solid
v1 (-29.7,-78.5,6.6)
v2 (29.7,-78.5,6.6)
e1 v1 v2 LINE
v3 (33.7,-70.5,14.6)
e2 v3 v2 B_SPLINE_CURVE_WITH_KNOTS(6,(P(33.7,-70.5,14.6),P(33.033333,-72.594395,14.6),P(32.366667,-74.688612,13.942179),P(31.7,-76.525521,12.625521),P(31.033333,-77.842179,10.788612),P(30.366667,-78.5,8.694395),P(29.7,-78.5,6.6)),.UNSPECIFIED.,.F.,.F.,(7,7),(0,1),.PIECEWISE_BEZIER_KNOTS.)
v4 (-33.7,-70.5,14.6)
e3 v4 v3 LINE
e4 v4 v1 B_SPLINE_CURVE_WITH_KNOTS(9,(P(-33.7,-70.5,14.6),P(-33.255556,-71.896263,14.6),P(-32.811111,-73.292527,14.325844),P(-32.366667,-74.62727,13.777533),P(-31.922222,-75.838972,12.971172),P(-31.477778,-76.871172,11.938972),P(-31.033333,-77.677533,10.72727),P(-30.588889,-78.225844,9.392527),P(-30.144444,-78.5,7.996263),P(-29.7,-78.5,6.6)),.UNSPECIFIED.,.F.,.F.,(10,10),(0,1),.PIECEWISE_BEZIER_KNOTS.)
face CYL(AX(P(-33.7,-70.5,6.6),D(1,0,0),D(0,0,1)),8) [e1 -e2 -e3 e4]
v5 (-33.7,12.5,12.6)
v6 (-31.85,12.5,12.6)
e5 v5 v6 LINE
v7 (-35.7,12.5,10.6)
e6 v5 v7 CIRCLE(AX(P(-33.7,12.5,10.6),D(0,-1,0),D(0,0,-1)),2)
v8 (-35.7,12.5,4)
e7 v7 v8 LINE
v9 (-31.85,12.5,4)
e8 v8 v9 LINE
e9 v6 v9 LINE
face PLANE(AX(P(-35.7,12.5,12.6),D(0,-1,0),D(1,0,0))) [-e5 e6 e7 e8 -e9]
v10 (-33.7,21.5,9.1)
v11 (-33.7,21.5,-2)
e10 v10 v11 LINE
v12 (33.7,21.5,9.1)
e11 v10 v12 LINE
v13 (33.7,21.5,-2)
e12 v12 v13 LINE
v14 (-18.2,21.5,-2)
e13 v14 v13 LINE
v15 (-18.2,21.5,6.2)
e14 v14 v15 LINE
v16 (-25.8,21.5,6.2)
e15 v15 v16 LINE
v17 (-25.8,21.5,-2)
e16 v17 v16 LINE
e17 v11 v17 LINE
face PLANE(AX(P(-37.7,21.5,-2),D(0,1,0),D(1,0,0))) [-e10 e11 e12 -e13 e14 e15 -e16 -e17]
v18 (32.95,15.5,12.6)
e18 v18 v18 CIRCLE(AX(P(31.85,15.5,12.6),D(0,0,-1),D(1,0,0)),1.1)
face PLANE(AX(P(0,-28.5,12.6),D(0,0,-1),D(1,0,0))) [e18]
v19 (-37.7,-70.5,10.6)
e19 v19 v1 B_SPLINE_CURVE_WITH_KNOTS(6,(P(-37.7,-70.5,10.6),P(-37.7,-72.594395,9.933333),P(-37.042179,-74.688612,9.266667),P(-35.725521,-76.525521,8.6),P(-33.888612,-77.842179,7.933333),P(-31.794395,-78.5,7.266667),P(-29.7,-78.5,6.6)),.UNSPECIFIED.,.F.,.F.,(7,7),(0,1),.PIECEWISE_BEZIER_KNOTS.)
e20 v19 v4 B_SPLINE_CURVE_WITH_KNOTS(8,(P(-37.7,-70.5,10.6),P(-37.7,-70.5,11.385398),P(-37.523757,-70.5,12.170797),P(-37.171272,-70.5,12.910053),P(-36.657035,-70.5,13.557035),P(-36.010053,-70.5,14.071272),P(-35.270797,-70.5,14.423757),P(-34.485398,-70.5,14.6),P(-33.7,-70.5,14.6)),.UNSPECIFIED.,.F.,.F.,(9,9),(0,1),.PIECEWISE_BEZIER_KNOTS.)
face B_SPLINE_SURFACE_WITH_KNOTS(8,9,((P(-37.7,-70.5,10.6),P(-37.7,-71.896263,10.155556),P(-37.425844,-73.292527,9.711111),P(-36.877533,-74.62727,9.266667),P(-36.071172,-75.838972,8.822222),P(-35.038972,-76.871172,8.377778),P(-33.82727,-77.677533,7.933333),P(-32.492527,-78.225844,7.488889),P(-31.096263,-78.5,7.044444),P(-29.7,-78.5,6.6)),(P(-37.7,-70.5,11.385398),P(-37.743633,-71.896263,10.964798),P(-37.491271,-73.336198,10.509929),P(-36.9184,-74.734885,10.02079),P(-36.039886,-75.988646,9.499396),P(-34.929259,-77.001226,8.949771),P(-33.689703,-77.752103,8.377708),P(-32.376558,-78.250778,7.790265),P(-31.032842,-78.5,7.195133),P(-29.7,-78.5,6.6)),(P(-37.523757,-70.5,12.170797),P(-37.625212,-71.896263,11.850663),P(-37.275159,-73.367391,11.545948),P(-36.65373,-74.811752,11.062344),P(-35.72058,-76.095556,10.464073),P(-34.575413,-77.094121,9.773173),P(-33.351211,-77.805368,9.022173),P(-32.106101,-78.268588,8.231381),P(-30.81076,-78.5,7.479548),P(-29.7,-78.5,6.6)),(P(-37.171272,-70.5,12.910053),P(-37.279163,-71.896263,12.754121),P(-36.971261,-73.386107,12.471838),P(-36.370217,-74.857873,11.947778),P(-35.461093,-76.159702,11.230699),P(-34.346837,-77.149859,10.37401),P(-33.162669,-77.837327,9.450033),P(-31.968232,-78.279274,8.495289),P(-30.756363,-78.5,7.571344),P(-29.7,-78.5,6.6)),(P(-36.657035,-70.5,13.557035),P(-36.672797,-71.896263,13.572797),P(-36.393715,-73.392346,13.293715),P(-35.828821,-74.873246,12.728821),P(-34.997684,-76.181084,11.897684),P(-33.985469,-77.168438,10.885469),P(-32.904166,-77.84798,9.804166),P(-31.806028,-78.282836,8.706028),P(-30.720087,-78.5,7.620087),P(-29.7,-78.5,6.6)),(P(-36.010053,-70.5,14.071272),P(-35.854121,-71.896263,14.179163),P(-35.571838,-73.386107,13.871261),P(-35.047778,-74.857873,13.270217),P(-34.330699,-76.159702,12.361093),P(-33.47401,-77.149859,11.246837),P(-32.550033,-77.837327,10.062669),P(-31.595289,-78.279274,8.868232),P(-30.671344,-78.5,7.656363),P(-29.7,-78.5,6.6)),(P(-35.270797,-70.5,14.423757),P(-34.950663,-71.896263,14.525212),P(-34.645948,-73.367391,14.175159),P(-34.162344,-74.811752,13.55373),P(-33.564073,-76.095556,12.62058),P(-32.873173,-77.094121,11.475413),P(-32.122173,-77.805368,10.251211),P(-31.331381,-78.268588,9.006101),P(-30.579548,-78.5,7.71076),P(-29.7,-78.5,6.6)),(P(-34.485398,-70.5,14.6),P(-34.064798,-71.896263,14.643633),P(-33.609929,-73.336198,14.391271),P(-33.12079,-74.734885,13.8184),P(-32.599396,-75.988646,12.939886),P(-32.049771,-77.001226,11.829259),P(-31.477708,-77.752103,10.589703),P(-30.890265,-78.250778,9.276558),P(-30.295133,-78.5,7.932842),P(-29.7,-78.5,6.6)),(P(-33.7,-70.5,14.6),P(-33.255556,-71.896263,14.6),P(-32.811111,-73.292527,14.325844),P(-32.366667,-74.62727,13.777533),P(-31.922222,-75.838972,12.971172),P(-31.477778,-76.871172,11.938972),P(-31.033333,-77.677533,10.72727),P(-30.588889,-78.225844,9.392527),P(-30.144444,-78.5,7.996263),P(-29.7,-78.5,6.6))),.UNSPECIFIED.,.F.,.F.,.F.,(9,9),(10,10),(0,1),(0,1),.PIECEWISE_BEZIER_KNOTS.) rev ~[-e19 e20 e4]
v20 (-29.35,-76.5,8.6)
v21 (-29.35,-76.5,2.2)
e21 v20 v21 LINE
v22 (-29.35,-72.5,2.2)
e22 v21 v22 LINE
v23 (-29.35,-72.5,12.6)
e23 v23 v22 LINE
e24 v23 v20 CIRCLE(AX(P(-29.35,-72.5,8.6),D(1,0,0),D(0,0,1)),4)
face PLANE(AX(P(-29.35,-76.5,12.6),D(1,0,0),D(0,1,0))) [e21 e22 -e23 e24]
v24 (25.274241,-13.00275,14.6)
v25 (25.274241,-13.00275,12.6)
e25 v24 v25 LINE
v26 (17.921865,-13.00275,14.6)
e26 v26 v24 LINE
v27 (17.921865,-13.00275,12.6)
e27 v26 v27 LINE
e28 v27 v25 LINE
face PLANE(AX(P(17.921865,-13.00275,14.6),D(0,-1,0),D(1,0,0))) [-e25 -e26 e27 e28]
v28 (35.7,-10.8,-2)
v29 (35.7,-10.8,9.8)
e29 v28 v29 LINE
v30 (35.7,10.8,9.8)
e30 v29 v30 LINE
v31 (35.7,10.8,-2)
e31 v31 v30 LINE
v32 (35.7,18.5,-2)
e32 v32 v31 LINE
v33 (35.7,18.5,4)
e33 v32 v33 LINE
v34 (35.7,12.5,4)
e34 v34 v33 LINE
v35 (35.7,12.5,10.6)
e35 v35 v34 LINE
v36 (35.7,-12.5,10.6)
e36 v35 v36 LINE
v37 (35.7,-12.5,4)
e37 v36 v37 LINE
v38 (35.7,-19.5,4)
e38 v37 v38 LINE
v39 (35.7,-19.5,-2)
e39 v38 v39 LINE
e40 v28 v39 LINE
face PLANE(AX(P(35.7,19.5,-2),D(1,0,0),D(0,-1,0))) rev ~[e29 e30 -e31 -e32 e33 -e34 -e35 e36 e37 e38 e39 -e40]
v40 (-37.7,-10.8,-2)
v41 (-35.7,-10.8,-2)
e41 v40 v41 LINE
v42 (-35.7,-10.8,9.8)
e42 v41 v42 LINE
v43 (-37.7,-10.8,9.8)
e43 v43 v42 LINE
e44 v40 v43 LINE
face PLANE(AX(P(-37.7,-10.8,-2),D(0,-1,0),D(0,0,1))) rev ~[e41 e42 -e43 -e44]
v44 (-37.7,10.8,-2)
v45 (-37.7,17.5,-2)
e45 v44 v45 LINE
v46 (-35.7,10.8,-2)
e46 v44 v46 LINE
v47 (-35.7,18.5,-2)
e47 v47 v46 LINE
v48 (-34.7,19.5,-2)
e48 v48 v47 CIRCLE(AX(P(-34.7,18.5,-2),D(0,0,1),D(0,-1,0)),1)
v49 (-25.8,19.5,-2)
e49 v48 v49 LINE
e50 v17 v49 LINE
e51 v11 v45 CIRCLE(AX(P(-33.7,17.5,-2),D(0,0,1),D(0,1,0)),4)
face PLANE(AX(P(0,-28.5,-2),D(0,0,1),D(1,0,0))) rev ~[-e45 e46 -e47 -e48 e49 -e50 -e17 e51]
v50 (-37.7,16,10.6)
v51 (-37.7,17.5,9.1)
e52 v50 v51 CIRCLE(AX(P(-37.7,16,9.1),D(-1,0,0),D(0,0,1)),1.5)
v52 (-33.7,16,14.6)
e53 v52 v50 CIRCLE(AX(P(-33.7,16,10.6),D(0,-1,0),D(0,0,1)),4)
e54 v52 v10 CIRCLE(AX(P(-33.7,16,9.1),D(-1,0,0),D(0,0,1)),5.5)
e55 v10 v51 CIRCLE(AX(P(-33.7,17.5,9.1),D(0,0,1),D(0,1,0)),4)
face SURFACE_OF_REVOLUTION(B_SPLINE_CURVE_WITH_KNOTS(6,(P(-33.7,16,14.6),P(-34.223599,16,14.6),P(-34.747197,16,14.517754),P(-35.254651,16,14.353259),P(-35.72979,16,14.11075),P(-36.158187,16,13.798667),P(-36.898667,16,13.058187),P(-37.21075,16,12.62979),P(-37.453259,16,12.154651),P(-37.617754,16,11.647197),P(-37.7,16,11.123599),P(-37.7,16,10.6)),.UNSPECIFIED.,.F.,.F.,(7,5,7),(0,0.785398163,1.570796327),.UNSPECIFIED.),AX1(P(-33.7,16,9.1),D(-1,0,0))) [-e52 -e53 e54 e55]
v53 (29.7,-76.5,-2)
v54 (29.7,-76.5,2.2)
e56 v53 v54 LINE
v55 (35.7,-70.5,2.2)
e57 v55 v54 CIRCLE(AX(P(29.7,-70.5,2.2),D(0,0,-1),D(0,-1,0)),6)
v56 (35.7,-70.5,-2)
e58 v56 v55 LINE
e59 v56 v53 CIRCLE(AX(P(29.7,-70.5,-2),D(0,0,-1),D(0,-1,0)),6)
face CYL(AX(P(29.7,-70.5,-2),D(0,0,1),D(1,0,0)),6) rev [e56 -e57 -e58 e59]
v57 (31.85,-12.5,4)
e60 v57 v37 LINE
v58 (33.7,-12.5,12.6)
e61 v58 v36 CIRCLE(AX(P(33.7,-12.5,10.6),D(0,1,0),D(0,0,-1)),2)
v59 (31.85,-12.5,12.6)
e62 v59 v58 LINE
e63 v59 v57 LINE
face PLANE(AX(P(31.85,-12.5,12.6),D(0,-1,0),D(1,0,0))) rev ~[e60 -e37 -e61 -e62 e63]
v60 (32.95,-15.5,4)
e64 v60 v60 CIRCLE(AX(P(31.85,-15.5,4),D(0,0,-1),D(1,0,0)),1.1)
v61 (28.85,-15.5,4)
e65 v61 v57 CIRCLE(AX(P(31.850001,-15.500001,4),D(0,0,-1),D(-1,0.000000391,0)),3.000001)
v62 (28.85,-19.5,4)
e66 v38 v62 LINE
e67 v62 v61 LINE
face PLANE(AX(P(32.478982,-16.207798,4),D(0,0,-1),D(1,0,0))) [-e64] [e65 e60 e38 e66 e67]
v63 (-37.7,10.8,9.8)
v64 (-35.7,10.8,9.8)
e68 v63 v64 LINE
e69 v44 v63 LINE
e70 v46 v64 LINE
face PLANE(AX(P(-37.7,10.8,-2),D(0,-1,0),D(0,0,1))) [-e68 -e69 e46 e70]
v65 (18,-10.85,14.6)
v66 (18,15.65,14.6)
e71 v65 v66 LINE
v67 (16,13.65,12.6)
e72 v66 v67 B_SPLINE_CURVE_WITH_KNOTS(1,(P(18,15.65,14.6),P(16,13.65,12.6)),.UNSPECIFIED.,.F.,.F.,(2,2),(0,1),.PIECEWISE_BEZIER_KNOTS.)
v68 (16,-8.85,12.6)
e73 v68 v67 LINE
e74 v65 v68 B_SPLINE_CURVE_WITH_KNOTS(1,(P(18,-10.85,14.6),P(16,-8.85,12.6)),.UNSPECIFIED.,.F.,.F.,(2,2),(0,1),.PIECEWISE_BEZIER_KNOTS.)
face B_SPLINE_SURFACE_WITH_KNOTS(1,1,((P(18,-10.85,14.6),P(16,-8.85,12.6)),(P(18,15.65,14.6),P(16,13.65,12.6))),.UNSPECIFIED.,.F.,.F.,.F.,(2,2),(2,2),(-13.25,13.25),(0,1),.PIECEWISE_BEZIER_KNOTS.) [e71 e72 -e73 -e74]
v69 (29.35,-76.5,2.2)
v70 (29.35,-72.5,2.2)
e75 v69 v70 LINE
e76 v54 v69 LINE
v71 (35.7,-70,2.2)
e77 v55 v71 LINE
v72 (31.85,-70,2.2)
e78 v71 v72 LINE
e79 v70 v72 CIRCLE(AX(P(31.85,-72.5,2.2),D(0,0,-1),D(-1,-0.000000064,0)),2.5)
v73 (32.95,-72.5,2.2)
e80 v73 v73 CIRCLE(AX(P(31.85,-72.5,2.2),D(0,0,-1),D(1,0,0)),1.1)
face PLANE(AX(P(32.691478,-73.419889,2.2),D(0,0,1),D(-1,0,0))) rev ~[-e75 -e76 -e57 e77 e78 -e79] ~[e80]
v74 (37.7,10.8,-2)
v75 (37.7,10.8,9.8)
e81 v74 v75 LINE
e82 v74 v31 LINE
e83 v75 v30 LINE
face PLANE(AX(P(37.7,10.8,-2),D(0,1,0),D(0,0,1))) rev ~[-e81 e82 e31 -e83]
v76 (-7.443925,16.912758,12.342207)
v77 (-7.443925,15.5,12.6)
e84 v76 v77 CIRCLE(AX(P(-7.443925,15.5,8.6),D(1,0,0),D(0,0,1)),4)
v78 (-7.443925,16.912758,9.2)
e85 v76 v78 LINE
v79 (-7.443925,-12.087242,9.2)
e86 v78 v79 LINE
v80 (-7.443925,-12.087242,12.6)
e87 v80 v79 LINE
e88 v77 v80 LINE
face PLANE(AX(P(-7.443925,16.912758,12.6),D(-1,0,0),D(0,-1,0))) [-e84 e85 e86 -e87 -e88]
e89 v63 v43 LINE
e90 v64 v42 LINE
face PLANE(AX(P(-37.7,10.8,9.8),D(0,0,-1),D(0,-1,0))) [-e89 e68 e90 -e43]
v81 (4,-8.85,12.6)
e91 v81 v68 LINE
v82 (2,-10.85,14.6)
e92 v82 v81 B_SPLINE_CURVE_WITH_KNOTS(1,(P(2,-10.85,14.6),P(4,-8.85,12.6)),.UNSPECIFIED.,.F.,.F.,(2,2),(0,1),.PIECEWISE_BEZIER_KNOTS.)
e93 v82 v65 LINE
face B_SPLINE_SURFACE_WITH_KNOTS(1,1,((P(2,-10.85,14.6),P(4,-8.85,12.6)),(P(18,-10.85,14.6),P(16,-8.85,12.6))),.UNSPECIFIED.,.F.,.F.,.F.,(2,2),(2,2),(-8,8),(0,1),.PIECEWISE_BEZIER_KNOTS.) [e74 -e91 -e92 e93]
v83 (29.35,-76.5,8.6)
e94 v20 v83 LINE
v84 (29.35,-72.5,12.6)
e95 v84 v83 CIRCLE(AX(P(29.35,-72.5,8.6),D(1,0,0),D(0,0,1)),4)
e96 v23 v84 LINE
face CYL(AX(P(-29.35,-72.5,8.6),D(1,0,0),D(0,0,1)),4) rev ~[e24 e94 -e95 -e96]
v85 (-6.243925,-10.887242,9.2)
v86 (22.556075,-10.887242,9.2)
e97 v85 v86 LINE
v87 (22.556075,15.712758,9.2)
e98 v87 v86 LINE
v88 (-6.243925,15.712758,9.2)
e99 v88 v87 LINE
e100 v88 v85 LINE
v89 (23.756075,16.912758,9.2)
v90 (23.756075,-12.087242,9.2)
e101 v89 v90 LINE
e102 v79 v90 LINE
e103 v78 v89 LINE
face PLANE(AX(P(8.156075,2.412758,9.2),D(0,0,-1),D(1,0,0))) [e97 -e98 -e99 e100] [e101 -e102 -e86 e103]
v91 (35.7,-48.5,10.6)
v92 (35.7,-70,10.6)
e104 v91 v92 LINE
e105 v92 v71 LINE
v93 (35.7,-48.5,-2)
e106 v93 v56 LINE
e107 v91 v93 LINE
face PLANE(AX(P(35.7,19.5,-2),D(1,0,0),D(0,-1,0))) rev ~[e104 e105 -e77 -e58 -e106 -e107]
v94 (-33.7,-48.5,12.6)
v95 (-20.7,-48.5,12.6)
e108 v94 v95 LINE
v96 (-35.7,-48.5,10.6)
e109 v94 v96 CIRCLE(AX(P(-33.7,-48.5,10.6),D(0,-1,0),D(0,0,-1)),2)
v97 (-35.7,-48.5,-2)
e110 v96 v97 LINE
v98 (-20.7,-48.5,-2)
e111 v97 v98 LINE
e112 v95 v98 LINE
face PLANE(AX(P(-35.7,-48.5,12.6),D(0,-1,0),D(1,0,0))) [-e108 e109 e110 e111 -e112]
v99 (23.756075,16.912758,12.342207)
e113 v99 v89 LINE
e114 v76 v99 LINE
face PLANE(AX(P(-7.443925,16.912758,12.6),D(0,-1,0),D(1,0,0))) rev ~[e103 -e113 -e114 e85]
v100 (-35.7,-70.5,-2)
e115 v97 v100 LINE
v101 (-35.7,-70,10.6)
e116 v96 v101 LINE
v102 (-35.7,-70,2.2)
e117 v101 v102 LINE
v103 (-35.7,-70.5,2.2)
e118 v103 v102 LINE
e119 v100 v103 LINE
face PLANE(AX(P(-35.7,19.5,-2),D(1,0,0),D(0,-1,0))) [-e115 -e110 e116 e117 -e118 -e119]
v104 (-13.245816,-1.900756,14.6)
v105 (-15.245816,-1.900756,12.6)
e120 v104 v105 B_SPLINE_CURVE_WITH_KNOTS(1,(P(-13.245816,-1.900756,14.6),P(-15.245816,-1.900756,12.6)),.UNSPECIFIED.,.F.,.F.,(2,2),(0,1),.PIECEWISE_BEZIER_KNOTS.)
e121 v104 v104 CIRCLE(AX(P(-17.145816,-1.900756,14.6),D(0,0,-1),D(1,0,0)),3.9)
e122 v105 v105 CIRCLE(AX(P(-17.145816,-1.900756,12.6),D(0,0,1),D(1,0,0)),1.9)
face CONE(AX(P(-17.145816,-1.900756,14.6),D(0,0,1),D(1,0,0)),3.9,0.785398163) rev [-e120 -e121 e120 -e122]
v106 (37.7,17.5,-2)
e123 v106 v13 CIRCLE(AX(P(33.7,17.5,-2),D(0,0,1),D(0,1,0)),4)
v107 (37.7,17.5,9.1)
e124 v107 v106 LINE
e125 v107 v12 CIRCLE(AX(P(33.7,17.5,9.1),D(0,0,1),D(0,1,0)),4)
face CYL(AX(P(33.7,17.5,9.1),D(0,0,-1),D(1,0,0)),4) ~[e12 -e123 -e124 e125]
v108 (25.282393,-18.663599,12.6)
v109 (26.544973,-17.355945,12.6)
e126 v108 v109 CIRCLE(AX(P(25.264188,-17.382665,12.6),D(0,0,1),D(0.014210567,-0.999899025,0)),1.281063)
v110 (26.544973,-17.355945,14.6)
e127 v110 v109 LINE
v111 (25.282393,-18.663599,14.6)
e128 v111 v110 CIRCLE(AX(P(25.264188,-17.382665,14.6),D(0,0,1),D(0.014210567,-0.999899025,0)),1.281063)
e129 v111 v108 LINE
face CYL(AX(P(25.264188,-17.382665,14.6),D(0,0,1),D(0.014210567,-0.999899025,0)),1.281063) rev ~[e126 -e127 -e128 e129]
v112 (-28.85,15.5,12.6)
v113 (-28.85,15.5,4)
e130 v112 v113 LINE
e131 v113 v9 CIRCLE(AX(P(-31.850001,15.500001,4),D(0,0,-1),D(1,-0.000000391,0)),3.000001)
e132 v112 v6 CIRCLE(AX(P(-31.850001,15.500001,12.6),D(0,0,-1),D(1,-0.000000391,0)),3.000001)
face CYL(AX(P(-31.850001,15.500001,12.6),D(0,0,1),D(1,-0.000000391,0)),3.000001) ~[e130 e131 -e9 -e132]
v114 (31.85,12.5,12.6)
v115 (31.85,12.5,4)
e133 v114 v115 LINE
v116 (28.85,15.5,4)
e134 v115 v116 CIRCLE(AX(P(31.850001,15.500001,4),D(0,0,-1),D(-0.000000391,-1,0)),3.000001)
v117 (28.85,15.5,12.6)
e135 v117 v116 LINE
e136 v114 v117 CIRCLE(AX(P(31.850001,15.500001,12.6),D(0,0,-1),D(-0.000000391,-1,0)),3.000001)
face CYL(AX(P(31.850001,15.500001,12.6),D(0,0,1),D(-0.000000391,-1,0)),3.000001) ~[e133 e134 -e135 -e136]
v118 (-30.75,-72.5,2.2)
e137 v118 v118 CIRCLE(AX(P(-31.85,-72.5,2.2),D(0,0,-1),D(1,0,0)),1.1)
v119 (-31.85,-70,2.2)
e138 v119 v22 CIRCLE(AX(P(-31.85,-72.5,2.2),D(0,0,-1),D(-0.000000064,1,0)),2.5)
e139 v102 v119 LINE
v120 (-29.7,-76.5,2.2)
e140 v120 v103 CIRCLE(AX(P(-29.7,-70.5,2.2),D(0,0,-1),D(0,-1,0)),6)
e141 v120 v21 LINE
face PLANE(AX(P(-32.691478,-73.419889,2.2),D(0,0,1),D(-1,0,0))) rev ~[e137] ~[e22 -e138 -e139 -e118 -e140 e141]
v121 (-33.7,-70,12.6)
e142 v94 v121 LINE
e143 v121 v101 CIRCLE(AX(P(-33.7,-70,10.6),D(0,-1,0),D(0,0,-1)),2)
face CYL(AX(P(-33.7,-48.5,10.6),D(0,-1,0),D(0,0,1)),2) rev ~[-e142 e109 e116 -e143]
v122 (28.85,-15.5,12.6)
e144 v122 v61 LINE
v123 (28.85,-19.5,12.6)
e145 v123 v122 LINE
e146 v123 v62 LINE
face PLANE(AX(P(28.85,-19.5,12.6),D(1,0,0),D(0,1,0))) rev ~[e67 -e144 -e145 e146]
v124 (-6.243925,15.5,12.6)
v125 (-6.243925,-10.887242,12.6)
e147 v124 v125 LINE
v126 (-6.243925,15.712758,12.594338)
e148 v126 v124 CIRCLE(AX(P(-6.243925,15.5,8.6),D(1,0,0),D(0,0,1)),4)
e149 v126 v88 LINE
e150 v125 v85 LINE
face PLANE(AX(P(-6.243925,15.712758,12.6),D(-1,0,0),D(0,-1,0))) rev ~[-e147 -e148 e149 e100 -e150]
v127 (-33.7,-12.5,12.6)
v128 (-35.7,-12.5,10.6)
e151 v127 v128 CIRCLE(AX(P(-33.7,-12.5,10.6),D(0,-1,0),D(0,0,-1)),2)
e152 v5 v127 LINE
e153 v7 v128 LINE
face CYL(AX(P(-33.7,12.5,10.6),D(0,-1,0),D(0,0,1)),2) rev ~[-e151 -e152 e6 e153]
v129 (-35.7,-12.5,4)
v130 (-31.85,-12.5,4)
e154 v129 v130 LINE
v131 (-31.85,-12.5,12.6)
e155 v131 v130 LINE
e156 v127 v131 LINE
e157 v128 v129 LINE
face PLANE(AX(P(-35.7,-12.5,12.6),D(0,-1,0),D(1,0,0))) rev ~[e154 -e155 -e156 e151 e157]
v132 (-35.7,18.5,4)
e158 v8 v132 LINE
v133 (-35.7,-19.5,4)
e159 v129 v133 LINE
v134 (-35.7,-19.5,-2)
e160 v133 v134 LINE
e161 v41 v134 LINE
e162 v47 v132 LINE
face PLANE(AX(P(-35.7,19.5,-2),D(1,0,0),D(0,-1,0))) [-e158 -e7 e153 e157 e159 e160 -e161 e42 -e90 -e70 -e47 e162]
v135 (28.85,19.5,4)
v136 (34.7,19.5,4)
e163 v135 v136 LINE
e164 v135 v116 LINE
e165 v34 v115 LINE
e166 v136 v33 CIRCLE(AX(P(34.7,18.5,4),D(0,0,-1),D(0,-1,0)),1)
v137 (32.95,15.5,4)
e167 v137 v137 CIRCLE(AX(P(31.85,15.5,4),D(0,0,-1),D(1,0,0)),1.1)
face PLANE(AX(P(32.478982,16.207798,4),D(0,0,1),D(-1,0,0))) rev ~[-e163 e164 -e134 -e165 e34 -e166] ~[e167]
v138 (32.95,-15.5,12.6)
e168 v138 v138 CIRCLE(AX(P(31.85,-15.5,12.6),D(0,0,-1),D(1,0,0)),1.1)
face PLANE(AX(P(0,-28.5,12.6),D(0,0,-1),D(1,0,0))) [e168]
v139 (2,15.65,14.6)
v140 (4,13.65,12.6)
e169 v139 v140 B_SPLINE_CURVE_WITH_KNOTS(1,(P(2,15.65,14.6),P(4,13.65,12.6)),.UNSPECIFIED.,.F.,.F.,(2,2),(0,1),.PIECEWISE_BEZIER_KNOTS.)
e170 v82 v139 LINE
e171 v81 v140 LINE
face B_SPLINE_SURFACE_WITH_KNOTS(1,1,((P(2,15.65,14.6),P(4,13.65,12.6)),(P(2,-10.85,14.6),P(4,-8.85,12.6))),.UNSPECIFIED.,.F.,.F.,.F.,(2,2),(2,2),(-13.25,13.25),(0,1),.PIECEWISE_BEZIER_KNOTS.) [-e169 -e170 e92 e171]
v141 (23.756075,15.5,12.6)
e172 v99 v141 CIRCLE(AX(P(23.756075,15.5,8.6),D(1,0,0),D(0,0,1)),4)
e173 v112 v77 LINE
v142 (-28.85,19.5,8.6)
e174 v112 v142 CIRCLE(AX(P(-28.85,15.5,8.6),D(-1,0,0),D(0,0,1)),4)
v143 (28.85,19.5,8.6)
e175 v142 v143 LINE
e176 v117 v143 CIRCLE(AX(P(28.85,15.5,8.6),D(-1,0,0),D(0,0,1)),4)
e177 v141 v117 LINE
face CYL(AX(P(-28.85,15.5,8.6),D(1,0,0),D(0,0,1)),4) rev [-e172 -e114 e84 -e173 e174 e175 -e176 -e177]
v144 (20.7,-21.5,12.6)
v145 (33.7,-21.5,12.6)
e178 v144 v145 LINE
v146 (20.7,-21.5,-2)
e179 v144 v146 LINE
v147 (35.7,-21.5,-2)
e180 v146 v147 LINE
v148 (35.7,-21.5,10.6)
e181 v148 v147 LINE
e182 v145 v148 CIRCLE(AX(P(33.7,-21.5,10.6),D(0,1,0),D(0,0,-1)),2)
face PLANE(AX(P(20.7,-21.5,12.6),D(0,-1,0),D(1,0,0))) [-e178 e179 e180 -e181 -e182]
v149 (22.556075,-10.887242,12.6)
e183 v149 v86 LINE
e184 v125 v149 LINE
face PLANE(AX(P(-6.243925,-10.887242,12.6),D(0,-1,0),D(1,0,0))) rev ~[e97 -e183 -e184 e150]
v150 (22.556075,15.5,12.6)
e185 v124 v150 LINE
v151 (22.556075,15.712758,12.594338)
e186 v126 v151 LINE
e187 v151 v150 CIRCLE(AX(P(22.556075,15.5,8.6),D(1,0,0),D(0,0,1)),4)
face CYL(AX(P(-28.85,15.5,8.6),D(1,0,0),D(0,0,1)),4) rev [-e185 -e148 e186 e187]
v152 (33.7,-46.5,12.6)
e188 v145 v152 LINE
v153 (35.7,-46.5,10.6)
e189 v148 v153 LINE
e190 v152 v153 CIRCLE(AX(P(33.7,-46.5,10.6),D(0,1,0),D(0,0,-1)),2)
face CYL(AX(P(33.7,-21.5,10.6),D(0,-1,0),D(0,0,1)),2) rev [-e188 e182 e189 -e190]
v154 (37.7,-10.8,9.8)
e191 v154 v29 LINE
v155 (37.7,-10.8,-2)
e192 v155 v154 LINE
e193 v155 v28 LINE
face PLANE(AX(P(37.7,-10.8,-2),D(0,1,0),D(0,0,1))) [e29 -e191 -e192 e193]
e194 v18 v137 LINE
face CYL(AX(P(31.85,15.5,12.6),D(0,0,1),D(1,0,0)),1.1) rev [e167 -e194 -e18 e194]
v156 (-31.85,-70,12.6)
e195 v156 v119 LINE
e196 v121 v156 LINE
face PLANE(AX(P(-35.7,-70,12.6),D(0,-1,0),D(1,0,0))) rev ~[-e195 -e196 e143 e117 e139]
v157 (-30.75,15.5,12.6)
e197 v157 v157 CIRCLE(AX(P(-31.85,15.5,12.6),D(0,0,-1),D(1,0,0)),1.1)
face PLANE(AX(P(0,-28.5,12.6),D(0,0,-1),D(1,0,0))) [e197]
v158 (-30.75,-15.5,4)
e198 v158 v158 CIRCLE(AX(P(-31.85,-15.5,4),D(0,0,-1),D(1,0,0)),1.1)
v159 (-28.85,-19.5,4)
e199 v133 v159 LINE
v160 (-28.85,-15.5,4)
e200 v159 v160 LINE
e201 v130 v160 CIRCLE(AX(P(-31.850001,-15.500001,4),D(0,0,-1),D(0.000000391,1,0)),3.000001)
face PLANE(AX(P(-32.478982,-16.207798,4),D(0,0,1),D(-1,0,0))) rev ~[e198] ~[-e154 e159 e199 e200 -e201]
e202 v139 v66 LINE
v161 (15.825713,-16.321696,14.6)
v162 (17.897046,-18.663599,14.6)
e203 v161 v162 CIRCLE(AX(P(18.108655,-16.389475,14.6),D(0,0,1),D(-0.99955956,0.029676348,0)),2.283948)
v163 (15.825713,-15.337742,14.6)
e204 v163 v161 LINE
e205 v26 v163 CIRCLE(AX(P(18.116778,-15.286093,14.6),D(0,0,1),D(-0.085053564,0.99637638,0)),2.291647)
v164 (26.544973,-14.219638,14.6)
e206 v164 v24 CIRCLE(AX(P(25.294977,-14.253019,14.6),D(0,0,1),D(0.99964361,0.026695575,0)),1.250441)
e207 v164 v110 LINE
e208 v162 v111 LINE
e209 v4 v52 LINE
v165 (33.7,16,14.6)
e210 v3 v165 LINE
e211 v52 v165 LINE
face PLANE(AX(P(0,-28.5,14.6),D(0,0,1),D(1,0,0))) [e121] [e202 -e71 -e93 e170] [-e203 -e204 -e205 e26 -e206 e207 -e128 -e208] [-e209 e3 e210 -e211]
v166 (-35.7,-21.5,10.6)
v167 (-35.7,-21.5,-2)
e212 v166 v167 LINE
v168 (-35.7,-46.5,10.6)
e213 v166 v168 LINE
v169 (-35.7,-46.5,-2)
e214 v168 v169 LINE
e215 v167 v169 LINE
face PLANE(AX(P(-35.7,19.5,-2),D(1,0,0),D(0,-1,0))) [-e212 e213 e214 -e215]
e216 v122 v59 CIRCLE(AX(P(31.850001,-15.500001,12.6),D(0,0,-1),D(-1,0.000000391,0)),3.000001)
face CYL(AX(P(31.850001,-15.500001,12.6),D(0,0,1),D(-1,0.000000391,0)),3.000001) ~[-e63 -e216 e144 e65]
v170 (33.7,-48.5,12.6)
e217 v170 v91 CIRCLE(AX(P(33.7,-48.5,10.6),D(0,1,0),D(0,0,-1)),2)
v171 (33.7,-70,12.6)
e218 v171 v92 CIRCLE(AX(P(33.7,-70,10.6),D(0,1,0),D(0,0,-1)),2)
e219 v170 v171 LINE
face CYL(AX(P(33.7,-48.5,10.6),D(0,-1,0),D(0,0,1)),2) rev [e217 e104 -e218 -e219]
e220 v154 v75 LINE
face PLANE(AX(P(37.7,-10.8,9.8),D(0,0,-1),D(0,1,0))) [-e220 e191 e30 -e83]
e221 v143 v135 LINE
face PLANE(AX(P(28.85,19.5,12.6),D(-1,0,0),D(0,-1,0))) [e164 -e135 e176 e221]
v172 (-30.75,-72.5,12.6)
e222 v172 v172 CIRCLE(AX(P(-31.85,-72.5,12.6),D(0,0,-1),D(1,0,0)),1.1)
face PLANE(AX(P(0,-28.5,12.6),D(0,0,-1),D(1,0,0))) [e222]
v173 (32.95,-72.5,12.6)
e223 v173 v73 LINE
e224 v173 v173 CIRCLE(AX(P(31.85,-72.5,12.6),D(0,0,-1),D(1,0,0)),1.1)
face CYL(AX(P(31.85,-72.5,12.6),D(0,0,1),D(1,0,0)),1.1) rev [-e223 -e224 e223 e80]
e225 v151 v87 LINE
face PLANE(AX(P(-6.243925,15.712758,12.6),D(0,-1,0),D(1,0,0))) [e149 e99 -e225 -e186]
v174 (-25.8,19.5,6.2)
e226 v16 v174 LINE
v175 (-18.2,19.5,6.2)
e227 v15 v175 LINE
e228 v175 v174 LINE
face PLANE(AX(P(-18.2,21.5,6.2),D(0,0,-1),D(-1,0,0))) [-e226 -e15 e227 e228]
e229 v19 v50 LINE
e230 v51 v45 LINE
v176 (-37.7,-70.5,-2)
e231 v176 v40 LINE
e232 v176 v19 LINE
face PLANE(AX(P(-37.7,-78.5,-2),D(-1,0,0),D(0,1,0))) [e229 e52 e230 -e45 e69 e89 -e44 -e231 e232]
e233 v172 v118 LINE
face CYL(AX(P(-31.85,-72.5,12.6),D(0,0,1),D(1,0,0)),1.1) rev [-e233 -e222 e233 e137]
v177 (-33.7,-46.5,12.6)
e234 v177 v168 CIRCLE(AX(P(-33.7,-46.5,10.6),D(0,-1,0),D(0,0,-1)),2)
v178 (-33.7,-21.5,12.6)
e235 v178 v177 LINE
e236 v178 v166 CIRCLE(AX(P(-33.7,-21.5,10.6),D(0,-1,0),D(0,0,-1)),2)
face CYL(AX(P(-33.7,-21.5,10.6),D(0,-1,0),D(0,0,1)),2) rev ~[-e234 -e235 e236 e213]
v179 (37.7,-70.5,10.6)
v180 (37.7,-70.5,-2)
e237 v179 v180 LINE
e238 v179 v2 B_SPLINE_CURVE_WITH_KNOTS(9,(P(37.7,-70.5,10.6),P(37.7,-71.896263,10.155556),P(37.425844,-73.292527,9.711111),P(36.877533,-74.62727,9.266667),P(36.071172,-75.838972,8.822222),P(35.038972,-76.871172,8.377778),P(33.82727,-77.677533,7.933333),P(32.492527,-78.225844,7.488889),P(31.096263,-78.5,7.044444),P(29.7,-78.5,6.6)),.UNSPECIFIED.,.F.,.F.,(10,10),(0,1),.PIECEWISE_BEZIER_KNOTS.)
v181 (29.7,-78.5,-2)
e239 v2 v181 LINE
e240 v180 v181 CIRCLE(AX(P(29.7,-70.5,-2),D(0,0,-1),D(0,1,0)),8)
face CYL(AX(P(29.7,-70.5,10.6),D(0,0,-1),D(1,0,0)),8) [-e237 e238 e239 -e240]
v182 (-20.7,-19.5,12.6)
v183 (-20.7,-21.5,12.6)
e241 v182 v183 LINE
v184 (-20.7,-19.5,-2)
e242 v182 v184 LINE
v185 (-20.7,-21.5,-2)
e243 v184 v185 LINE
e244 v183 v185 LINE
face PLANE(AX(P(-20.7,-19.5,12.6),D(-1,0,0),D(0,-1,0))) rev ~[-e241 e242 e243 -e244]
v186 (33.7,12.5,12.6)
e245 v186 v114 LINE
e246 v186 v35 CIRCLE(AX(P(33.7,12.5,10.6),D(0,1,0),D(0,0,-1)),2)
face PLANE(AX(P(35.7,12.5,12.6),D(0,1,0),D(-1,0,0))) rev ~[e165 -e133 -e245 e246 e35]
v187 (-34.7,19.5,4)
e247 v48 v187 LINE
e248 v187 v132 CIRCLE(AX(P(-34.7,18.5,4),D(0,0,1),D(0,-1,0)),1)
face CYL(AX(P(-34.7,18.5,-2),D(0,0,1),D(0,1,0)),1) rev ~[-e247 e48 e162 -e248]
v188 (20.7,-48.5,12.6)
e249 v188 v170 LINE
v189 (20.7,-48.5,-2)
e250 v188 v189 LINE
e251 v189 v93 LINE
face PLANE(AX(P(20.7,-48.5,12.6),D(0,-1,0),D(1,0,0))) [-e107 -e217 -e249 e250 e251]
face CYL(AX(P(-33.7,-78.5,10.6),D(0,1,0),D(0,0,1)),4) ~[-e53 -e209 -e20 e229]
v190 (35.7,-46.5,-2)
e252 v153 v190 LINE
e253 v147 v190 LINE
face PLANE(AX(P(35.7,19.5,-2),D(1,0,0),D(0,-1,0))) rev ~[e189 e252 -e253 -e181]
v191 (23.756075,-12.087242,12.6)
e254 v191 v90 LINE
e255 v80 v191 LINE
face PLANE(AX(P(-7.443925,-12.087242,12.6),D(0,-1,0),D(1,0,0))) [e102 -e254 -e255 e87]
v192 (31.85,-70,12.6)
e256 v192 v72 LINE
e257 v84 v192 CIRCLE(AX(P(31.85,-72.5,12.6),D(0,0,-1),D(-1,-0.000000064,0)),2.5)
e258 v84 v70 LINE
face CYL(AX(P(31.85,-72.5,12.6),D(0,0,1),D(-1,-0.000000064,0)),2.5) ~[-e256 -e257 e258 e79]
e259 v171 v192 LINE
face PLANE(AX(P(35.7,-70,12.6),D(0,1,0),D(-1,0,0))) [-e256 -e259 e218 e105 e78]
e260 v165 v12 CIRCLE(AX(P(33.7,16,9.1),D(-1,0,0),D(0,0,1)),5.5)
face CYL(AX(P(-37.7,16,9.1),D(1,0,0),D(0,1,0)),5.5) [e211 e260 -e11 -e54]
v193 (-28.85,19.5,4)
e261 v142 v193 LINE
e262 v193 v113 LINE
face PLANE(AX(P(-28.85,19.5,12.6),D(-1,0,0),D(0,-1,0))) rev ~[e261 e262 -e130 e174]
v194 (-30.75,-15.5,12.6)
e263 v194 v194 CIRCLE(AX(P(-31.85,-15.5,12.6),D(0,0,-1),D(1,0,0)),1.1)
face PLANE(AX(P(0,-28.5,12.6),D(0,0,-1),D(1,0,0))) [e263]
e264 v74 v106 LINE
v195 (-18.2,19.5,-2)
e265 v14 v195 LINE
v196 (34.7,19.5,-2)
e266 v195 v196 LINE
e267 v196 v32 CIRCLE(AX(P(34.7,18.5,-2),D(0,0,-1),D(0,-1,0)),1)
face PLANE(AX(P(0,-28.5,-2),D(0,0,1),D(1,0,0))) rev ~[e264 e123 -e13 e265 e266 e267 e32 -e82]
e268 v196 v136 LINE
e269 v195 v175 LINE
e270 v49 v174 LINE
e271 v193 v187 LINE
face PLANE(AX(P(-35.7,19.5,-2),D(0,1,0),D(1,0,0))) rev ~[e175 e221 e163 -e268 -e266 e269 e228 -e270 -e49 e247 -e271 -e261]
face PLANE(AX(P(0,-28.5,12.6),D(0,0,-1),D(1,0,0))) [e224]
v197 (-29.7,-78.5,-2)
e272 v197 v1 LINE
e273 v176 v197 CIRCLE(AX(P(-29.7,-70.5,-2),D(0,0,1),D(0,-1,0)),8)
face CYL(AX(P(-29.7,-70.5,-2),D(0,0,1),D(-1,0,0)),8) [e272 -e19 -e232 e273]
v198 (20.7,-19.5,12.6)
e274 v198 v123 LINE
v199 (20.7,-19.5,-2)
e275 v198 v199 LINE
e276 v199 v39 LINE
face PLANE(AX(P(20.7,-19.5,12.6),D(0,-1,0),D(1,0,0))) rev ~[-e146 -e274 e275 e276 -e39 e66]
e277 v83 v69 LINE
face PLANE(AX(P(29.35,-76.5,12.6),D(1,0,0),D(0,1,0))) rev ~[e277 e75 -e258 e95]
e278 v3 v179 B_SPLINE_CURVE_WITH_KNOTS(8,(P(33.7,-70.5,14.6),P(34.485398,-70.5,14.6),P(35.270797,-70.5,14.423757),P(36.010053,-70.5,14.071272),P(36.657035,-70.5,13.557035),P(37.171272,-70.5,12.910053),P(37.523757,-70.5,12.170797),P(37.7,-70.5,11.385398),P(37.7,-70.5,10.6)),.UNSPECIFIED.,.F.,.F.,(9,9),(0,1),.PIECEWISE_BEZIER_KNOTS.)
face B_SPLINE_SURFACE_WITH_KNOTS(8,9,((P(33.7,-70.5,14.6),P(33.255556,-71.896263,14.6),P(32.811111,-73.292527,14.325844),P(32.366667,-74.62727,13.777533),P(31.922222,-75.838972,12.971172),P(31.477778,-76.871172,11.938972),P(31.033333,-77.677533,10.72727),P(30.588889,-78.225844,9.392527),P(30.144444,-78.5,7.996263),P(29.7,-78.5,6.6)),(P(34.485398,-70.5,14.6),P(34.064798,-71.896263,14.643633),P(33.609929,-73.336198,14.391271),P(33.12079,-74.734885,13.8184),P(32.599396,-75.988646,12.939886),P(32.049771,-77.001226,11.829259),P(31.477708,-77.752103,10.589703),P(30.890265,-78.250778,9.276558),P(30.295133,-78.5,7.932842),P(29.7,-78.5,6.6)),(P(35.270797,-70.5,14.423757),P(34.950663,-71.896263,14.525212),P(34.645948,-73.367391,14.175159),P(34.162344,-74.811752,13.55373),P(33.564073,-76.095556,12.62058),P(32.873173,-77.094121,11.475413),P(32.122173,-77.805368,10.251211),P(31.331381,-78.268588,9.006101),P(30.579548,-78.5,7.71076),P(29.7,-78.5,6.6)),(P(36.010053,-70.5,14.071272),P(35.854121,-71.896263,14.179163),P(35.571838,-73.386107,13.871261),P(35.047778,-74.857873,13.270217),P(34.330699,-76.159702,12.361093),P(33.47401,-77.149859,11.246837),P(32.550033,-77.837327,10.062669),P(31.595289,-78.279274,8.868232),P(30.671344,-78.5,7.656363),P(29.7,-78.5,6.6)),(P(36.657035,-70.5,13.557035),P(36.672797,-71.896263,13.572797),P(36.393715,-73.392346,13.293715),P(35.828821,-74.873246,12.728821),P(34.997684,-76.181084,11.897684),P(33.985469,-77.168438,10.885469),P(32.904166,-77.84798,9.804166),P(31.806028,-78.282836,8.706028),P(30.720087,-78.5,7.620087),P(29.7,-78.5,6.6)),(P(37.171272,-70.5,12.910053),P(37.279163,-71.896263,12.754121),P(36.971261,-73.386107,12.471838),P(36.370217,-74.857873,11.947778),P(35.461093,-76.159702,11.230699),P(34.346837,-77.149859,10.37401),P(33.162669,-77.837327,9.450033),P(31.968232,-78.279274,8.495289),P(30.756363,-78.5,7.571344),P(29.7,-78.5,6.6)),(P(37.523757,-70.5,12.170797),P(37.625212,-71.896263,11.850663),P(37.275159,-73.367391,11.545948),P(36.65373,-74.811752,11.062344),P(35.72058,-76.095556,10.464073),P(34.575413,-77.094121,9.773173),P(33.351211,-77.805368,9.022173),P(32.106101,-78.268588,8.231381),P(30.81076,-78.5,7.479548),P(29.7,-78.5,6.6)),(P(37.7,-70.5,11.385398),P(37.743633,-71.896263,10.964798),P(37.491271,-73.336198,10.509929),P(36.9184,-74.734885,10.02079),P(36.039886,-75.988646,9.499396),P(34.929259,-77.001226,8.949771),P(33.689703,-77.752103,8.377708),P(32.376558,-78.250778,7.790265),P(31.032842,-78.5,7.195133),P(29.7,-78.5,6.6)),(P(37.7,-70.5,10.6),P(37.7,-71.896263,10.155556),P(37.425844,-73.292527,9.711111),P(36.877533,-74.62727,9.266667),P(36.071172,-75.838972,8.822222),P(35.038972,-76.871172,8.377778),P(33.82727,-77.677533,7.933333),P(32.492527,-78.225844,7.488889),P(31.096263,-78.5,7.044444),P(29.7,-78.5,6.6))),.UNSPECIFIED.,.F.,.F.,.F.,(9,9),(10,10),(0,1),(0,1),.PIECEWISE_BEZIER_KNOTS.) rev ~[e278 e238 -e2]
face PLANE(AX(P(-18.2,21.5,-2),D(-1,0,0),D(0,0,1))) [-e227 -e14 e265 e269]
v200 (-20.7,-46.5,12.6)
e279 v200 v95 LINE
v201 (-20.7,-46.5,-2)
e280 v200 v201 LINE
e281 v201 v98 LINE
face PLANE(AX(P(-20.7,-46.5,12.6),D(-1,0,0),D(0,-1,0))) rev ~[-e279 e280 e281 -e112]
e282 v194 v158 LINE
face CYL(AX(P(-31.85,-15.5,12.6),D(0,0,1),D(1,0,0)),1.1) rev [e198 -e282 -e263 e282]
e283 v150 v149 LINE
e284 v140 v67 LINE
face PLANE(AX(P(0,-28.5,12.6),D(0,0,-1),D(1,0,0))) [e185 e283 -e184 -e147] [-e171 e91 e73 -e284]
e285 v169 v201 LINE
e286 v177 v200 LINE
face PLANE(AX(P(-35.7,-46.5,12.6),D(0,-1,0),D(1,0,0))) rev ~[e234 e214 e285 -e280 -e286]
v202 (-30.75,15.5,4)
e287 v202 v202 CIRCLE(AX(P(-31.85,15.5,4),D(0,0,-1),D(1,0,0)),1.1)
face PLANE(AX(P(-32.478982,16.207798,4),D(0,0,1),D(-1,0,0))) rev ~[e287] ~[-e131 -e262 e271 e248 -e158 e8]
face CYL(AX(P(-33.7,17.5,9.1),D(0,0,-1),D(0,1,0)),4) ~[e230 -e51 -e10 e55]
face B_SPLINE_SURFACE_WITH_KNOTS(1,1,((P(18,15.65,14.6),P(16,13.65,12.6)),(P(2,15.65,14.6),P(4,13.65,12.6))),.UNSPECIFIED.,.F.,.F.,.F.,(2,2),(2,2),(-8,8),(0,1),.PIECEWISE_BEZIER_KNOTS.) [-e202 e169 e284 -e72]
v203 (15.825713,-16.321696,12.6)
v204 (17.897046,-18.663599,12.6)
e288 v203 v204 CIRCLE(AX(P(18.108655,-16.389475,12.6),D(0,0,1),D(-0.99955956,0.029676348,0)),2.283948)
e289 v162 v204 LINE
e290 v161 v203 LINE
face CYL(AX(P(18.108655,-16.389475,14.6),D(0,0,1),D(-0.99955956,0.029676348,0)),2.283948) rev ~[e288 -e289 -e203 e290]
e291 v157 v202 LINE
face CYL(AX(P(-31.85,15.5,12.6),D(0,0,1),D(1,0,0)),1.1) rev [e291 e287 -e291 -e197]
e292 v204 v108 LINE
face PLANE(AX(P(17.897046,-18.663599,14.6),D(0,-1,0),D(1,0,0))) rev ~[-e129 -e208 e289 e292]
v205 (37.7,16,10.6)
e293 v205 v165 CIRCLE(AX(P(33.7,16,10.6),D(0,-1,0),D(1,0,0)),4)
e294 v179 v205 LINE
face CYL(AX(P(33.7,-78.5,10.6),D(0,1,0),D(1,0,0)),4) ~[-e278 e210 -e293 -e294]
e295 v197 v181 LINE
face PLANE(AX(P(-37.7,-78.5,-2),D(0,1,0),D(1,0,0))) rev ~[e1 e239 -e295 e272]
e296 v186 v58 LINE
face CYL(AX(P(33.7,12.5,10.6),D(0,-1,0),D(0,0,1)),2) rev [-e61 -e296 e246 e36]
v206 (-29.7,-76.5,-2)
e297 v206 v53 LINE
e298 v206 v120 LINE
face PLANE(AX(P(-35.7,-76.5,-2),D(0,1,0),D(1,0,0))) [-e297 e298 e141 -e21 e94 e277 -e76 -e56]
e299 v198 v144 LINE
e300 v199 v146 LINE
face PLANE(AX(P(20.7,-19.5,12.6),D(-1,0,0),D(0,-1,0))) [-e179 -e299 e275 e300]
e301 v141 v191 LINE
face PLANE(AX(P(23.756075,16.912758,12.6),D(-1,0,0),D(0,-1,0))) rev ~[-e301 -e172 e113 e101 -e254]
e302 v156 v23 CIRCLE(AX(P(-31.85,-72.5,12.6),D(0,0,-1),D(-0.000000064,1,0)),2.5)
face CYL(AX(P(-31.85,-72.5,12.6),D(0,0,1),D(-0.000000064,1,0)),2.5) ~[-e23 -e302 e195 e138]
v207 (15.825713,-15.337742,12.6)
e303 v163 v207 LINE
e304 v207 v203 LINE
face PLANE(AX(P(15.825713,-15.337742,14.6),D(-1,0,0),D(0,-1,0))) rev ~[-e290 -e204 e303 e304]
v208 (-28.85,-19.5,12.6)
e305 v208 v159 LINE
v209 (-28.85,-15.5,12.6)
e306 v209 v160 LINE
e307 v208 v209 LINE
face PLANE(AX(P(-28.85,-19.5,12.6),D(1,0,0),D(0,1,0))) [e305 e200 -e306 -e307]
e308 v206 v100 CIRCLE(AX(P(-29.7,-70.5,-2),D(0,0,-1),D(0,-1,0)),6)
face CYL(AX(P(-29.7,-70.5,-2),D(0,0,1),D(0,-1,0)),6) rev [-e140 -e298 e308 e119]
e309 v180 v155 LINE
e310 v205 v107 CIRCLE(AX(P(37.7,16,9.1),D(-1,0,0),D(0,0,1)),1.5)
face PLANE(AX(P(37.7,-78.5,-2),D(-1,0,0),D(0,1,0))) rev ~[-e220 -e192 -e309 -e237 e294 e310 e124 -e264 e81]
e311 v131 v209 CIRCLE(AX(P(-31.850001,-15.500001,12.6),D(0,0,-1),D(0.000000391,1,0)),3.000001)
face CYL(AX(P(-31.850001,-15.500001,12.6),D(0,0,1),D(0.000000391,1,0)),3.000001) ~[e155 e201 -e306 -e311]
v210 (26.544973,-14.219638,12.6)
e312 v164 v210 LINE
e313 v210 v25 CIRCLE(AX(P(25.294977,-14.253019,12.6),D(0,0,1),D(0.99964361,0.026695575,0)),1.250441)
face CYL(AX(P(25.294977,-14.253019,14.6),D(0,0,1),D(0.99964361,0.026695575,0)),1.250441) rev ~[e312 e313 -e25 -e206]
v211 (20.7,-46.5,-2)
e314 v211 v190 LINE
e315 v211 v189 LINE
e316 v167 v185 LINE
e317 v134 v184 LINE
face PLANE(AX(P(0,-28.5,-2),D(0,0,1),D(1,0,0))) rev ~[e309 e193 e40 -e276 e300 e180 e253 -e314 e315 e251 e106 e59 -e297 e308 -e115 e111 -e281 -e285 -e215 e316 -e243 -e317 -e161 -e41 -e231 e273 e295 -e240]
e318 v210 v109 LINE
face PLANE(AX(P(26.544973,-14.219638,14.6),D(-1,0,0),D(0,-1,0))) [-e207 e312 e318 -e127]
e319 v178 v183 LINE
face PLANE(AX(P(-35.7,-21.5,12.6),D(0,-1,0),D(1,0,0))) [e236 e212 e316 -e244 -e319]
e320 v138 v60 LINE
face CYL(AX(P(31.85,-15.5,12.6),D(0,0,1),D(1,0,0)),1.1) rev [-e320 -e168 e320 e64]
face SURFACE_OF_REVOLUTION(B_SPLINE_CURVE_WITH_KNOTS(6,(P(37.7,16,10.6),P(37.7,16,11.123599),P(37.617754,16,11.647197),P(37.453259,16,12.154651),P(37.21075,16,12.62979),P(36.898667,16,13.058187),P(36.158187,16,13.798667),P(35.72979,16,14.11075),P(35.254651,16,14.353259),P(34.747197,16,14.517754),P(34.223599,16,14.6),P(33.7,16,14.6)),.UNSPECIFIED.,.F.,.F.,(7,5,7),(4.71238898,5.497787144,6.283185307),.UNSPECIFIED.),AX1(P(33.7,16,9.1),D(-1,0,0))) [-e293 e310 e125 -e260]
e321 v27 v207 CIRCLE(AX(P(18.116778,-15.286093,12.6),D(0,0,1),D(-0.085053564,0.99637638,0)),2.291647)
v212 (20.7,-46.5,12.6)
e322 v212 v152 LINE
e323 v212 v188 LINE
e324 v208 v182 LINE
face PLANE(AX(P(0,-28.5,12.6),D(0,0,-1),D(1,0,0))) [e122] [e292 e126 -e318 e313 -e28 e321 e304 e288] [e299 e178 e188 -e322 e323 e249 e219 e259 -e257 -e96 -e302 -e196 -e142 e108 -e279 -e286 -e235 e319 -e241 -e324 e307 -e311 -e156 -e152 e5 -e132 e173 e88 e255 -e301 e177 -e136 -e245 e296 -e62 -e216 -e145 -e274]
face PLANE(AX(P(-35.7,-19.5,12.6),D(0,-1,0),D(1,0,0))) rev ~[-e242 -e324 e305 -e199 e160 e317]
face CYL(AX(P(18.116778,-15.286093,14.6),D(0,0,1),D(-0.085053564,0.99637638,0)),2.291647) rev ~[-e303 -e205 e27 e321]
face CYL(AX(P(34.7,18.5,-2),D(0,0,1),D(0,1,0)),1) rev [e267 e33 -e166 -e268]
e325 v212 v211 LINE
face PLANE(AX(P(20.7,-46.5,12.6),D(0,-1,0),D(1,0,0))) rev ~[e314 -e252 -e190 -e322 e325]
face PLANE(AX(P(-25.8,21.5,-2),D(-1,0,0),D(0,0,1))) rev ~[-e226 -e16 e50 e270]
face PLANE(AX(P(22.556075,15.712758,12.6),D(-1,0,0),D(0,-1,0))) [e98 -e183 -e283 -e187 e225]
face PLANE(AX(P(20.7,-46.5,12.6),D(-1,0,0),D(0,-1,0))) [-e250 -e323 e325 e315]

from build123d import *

# Parameters (mm, degrees)
SKETCH_W        = 75.4
SKETCH_H        = 100
PAD_DEPTH       = 16.6
SKETCH005_W     = 71.4
SKETCH005_H     = 96
POCKET_DEPTH    = 14.6
SKETCH006_W     = 21.6
SKETCH006_H     = 11.8
POCKET001_DEPTH = 2
SKETCH007_W     = 21.6
SKETCH007_H     = 11.8
POCKET002_DEPTH = 2
SKETCH008_W     = 7.6
SKETCH008_H     = 8.2
POCKET003_DEPTH = 2
POCKET004_DEPTH = 2
SKETCH010_R     = 3.9
SKETCH010_W     = 16
SKETCH010_H     = 26.5
POCKET005_DEPTH = 2
POCKET005_TAPER = 45
SKETCH011_W     = 15
SKETCH011_H     = 2
PAD005_DEPTH    = 14.6
SKETCH012_R     = 1.1
PAD006_DEPTH    = 8.6
SKETCH013_R     = 1.1
PAD007_DEPTH    = 10.4
FILLET_R        = 2
FILLET001_R     = 4
FILLET002_R     = 1
FILLET003_R     = 6
FILLET004_R     = 5.5
FILLET005_R     = 4
SKETCH022_W     = 31.2
SKETCH022_H     = 29
SKETCH022_W_2   = 28.8
SKETCH022_H_2   = 26.6
PAD013_DEPTH    = 3.4
FILLET011_R     = 8


with BuildPart() as part:
    # Sketch → Pad (new body)
    with BuildSketch(Plane.XY):
        with Locations((0, -28.5)):
            Rectangle(SKETCH_W, SKETCH_H)
    extrude(amount=PAD_DEPTH)

    # Sketch005 (on Face5 of Pad) → Pocket (cut)
    with BuildSketch(Plane(origin=(0, 0, 0), x_dir=(1, 0, 0), z_dir=(0, 0, -1))):
        with Locations((0, 28.5)):
            Rectangle(SKETCH005_W, SKETCH005_H)
    extrude(amount=-POCKET_DEPTH, mode=Mode.SUBTRACT)

    # Sketch006 (on Face3 of Pocket) → Pocket001 (cut)
    with BuildSketch(Plane.YZ.offset(37.7)):
        with Locations((0, 5.9)):
            Rectangle(SKETCH006_W, SKETCH006_H)
    extrude(amount=-POCKET001_DEPTH, mode=Mode.SUBTRACT)

    # Sketch007 (on Face2 of Pocket) → Pocket002 (cut)
    with BuildSketch(Plane(origin=(-37.7, 0, 0), x_dir=(0, -1, 0), z_dir=(-1, 0, 0))):
        with Locations((0, 5.9)):
            Rectangle(SKETCH007_W, SKETCH007_H)
    extrude(amount=-POCKET002_DEPTH, mode=Mode.SUBTRACT)

    # Sketch008 (on Face1 of Pocket) → Pocket003 (cut)
    with BuildSketch(Plane(origin=(0, 21.5, 0), x_dir=(-1, 0, 0), z_dir=(0, 1, 0))):
        with Locations((22, 4.1)):
            Rectangle(SKETCH008_W, SKETCH008_H)
    extrude(amount=-POCKET003_DEPTH, mode=Mode.SUBTRACT)

    # Sketch009 (on Face5 of Pocket) → Pocket004 (cut)
    with BuildSketch(Plane.XY.offset(16.6)):
        with BuildLine():
            Line((15.825713, -15.337742), (15.825713, -16.321696))
            ThreePointArc((15.825713, -16.321696), (16.397859, -17.902616), (17.897046, -18.663599))
            Line((17.897046, -18.663599), (25.282393, -18.663599))
            ThreePointArc((25.282393, -18.663599), (26.185781, -18.272491), (26.544973, -17.355945))
            Line((26.544973, -14.219638), (26.544973, -17.355945))
            ThreePointArc((26.544973, -14.219638), (26.159832, -13.349897), (25.274241, -13.00275))
            Line((17.921865, -13.00275), (25.274241, -13.00275))
            ThreePointArc((17.921865, -13.00275), (16.411472, -13.755218), (15.825713, -15.337742))
        make_face()
    extrude(amount=-POCKET004_DEPTH, mode=Mode.SUBTRACT)

    # Sketch010 (on Face5 of Pocket) → Pocket005 (cut)
    with BuildSketch(Plane.XY.offset(16.6)):
        with Locations((-17.145816, -1.900756)):
            Circle(SKETCH010_R)
        with Locations((10, 2.4)):
            Rectangle(SKETCH010_W, SKETCH010_H)
    extrude(amount=-POCKET005_DEPTH, taper=POCKET005_TAPER, mode=Mode.SUBTRACT)

    # Sketch011 (on Face11 of Pocket) → Pad005 (join)
    with BuildSketch(Plane(origin=(0, 0, 14.6), x_dir=(1, 0, 0), z_dir=(0, 0, -1))):
        with Locations((-28.2, 47.5)):
            Rectangle(SKETCH011_W, SKETCH011_H)
        with Locations((-28.2, 20.5)):
            Rectangle(SKETCH011_W, SKETCH011_H)
        with Locations((28.2, 47.5)):
            Rectangle(SKETCH011_W, SKETCH011_H)
        with Locations((28.2, 20.5)):
            Rectangle(SKETCH011_W, SKETCH011_H)
    extrude(amount=PAD005_DEPTH)

    # Sketch012 (on Face11 of Pocket) → Pad006 (join)
    with BuildSketch(Plane(origin=(0, 0, 14.6), x_dir=(1, 0, 0), z_dir=(0, 0, -1))):
        with BuildLine():
            Line((-35.7, -12.5), (-31.85, -12.5))
            ThreePointArc((-28.85, -15.5), (-29.72868, -13.37868), (-31.85, -12.5))
            Line((-28.85, -19.5), (-28.85, -15.5))
            Line((-28.85, -19.5), (-35.7, -19.5))
            Line((-35.7, -12.5), (-35.7, -19.5))
        make_face()
        with Locations((-31.85, -15.5)):
            Circle(SKETCH012_R, mode=Mode.SUBTRACT)
        with BuildLine():
            Line((28.85, -19.5), (28.85, -15.5))
            ThreePointArc((31.85, -12.5), (29.72868, -13.37868), (28.85, -15.5))
            Line((35.7, -12.5), (31.85, -12.5))
            Line((35.7, -12.5), (35.7, -19.5))
            Line((28.85, -19.5), (35.7, -19.5))
        make_face()
        with Locations((31.85, -15.5)):
            Circle(SKETCH012_R, mode=Mode.SUBTRACT)
        with BuildLine():
            Line((-35.7, 12.5), (-35.7, 19.5))
            Line((-35.7, 19.5), (-28.85, 19.5))
            Line((-28.85, 19.5), (-28.85, 15.5))
            ThreePointArc((-31.85, 12.5), (-29.72868, 13.37868), (-28.85, 15.5))
            Line((-35.7, 12.5), (-31.85, 12.5))
        make_face()
        with Locations((-31.85, 15.5)):
            Circle(SKETCH012_R, mode=Mode.SUBTRACT)
        with BuildLine():
            Line((31.85, 12.5), (35.7, 12.5))
            Line((35.7, 12.5), (35.7, 19.5))
            Line((35.7, 19.5), (28.85, 19.5))
            Line((28.85, 19.5), (28.85, 15.5))
            ThreePointArc((28.85, 15.5), (29.72868, 13.37868), (31.85, 12.5))
        make_face()
        with Locations((31.85, 15.5)):
            Circle(SKETCH012_R, mode=Mode.SUBTRACT)
    extrude(amount=PAD006_DEPTH)

    # Sketch013 (on Face11 of Pocket) → Pad007 (join)
    with BuildSketch(Plane(origin=(0, 0, 14.6), x_dir=(1, 0, 0), z_dir=(0, 0, -1))):
        with BuildLine():
            Line((-35.7, 76.5), (-29.35, 76.5))
            Line((-29.35, 76.5), (-29.35, 72.5))
            ThreePointArc((-31.85, 70), (-30.082233, 70.732233), (-29.35, 72.5))
            Line((-35.7, 70), (-31.85, 70))
            Line((-35.7, 76.5), (-35.7, 70))
        make_face()
        with Locations((-31.85, 72.5)):
            Circle(SKETCH013_R, mode=Mode.SUBTRACT)
        with BuildLine():
            Line((35.7, 76.5), (35.7, 70))
            Line((35.7, 70), (31.85, 70))
            ThreePointArc((29.35, 72.5), (30.082233, 70.732233), (31.85, 70))
            Line((29.35, 76.5), (29.35, 72.5))
            Line((35.7, 76.5), (29.35, 76.5))
        make_face()
        with Locations((31.85, 72.5)):
            Circle(SKETCH013_R, mode=Mode.SUBTRACT)
    extrude(amount=PAD007_DEPTH)

    # Fillet
    fillet_edges = [part.edges().sort_by_distance(p)[0] for p in [
        (-35.7, 0, 14.6),
        (-35.7, -34, 14.6),
        (-35.7, -59.25, 14.6),
        (35.7, 0, 14.6),
        (35.7, -34, 14.6),
        (35.7, -59.25, 14.6),
    ]]
    fillet(fillet_edges, radius=FILLET_R)

    # Fillet001
    fillet001_edges = [part.edges().sort_by_distance(p)[0] for p in [
        (0, 19.5, 14.6),
        (0, -76.5, 14.6),
    ]]
    fillet(fillet001_edges, radius=FILLET001_R)

    # Fillet002
    fillet002_edges = [part.edges().sort_by_distance(p)[0] for p in [
        (-35.7, 19.5, 3),
        (35.7, 19.5, 3),
    ]]
    fillet(fillet002_edges, radius=FILLET002_R)

    # Fillet003
    fillet003_edges = [part.edges().sort_by_distance(p)[0] for p in [
        (-35.7, -76.5, 2.1),
        (35.7, -76.5, 2.1),
    ]]
    fillet(fillet003_edges, radius=FILLET003_R)

    # Fillet004
    fillet004_edges = [part.edges().sort_by_distance(p)[0] for p in [
        (0, 21.5, 16.6),
    ]]
    fillet(fillet004_edges, radius=FILLET004_R)

    # Fillet005
    fillet005_edges = [part.edges().sort_by_distance(p)[0] for p in [
        (37.7, -31.25, 16.6),
        (37.7, 21.5, 5.55),
        (-37.7, -31.25, 16.6),
        (-37.7, 21.5, 5.55),
    ]]
    fillet(fillet005_edges, radius=FILLET005_R)

    # Sketch022 (on Face36 of Pad007) → Pad013 (join)
    with BuildSketch(Plane(origin=(0, 0, 14.6), x_dir=(1, 0, 0), z_dir=(0, 0, -1))):
        with Locations((8.156075, -2.412758)):
            Rectangle(SKETCH022_W, SKETCH022_H)
        with Locations((8.156075, -2.412758)):
            Rectangle(SKETCH022_W_2, SKETCH022_H_2, mode=Mode.SUBTRACT)
    extrude(amount=PAD013_DEPTH)

    # Fillet011
    fillet011_edges = [part.edges().sort_by_distance(p)[0] for p in [
        (0, -78.5, 16.6),
        (37.7, -78.5, 6.3),
        (-37.7, -78.5, 6.3),
    ]]
    fillet(fillet011_edges, radius=FILLET011_R)


with BuildPart() as part_1:
    # Body placement: moved
    add(part.part.moved(Location((0, 0, -2))))


solid = part_1.part
